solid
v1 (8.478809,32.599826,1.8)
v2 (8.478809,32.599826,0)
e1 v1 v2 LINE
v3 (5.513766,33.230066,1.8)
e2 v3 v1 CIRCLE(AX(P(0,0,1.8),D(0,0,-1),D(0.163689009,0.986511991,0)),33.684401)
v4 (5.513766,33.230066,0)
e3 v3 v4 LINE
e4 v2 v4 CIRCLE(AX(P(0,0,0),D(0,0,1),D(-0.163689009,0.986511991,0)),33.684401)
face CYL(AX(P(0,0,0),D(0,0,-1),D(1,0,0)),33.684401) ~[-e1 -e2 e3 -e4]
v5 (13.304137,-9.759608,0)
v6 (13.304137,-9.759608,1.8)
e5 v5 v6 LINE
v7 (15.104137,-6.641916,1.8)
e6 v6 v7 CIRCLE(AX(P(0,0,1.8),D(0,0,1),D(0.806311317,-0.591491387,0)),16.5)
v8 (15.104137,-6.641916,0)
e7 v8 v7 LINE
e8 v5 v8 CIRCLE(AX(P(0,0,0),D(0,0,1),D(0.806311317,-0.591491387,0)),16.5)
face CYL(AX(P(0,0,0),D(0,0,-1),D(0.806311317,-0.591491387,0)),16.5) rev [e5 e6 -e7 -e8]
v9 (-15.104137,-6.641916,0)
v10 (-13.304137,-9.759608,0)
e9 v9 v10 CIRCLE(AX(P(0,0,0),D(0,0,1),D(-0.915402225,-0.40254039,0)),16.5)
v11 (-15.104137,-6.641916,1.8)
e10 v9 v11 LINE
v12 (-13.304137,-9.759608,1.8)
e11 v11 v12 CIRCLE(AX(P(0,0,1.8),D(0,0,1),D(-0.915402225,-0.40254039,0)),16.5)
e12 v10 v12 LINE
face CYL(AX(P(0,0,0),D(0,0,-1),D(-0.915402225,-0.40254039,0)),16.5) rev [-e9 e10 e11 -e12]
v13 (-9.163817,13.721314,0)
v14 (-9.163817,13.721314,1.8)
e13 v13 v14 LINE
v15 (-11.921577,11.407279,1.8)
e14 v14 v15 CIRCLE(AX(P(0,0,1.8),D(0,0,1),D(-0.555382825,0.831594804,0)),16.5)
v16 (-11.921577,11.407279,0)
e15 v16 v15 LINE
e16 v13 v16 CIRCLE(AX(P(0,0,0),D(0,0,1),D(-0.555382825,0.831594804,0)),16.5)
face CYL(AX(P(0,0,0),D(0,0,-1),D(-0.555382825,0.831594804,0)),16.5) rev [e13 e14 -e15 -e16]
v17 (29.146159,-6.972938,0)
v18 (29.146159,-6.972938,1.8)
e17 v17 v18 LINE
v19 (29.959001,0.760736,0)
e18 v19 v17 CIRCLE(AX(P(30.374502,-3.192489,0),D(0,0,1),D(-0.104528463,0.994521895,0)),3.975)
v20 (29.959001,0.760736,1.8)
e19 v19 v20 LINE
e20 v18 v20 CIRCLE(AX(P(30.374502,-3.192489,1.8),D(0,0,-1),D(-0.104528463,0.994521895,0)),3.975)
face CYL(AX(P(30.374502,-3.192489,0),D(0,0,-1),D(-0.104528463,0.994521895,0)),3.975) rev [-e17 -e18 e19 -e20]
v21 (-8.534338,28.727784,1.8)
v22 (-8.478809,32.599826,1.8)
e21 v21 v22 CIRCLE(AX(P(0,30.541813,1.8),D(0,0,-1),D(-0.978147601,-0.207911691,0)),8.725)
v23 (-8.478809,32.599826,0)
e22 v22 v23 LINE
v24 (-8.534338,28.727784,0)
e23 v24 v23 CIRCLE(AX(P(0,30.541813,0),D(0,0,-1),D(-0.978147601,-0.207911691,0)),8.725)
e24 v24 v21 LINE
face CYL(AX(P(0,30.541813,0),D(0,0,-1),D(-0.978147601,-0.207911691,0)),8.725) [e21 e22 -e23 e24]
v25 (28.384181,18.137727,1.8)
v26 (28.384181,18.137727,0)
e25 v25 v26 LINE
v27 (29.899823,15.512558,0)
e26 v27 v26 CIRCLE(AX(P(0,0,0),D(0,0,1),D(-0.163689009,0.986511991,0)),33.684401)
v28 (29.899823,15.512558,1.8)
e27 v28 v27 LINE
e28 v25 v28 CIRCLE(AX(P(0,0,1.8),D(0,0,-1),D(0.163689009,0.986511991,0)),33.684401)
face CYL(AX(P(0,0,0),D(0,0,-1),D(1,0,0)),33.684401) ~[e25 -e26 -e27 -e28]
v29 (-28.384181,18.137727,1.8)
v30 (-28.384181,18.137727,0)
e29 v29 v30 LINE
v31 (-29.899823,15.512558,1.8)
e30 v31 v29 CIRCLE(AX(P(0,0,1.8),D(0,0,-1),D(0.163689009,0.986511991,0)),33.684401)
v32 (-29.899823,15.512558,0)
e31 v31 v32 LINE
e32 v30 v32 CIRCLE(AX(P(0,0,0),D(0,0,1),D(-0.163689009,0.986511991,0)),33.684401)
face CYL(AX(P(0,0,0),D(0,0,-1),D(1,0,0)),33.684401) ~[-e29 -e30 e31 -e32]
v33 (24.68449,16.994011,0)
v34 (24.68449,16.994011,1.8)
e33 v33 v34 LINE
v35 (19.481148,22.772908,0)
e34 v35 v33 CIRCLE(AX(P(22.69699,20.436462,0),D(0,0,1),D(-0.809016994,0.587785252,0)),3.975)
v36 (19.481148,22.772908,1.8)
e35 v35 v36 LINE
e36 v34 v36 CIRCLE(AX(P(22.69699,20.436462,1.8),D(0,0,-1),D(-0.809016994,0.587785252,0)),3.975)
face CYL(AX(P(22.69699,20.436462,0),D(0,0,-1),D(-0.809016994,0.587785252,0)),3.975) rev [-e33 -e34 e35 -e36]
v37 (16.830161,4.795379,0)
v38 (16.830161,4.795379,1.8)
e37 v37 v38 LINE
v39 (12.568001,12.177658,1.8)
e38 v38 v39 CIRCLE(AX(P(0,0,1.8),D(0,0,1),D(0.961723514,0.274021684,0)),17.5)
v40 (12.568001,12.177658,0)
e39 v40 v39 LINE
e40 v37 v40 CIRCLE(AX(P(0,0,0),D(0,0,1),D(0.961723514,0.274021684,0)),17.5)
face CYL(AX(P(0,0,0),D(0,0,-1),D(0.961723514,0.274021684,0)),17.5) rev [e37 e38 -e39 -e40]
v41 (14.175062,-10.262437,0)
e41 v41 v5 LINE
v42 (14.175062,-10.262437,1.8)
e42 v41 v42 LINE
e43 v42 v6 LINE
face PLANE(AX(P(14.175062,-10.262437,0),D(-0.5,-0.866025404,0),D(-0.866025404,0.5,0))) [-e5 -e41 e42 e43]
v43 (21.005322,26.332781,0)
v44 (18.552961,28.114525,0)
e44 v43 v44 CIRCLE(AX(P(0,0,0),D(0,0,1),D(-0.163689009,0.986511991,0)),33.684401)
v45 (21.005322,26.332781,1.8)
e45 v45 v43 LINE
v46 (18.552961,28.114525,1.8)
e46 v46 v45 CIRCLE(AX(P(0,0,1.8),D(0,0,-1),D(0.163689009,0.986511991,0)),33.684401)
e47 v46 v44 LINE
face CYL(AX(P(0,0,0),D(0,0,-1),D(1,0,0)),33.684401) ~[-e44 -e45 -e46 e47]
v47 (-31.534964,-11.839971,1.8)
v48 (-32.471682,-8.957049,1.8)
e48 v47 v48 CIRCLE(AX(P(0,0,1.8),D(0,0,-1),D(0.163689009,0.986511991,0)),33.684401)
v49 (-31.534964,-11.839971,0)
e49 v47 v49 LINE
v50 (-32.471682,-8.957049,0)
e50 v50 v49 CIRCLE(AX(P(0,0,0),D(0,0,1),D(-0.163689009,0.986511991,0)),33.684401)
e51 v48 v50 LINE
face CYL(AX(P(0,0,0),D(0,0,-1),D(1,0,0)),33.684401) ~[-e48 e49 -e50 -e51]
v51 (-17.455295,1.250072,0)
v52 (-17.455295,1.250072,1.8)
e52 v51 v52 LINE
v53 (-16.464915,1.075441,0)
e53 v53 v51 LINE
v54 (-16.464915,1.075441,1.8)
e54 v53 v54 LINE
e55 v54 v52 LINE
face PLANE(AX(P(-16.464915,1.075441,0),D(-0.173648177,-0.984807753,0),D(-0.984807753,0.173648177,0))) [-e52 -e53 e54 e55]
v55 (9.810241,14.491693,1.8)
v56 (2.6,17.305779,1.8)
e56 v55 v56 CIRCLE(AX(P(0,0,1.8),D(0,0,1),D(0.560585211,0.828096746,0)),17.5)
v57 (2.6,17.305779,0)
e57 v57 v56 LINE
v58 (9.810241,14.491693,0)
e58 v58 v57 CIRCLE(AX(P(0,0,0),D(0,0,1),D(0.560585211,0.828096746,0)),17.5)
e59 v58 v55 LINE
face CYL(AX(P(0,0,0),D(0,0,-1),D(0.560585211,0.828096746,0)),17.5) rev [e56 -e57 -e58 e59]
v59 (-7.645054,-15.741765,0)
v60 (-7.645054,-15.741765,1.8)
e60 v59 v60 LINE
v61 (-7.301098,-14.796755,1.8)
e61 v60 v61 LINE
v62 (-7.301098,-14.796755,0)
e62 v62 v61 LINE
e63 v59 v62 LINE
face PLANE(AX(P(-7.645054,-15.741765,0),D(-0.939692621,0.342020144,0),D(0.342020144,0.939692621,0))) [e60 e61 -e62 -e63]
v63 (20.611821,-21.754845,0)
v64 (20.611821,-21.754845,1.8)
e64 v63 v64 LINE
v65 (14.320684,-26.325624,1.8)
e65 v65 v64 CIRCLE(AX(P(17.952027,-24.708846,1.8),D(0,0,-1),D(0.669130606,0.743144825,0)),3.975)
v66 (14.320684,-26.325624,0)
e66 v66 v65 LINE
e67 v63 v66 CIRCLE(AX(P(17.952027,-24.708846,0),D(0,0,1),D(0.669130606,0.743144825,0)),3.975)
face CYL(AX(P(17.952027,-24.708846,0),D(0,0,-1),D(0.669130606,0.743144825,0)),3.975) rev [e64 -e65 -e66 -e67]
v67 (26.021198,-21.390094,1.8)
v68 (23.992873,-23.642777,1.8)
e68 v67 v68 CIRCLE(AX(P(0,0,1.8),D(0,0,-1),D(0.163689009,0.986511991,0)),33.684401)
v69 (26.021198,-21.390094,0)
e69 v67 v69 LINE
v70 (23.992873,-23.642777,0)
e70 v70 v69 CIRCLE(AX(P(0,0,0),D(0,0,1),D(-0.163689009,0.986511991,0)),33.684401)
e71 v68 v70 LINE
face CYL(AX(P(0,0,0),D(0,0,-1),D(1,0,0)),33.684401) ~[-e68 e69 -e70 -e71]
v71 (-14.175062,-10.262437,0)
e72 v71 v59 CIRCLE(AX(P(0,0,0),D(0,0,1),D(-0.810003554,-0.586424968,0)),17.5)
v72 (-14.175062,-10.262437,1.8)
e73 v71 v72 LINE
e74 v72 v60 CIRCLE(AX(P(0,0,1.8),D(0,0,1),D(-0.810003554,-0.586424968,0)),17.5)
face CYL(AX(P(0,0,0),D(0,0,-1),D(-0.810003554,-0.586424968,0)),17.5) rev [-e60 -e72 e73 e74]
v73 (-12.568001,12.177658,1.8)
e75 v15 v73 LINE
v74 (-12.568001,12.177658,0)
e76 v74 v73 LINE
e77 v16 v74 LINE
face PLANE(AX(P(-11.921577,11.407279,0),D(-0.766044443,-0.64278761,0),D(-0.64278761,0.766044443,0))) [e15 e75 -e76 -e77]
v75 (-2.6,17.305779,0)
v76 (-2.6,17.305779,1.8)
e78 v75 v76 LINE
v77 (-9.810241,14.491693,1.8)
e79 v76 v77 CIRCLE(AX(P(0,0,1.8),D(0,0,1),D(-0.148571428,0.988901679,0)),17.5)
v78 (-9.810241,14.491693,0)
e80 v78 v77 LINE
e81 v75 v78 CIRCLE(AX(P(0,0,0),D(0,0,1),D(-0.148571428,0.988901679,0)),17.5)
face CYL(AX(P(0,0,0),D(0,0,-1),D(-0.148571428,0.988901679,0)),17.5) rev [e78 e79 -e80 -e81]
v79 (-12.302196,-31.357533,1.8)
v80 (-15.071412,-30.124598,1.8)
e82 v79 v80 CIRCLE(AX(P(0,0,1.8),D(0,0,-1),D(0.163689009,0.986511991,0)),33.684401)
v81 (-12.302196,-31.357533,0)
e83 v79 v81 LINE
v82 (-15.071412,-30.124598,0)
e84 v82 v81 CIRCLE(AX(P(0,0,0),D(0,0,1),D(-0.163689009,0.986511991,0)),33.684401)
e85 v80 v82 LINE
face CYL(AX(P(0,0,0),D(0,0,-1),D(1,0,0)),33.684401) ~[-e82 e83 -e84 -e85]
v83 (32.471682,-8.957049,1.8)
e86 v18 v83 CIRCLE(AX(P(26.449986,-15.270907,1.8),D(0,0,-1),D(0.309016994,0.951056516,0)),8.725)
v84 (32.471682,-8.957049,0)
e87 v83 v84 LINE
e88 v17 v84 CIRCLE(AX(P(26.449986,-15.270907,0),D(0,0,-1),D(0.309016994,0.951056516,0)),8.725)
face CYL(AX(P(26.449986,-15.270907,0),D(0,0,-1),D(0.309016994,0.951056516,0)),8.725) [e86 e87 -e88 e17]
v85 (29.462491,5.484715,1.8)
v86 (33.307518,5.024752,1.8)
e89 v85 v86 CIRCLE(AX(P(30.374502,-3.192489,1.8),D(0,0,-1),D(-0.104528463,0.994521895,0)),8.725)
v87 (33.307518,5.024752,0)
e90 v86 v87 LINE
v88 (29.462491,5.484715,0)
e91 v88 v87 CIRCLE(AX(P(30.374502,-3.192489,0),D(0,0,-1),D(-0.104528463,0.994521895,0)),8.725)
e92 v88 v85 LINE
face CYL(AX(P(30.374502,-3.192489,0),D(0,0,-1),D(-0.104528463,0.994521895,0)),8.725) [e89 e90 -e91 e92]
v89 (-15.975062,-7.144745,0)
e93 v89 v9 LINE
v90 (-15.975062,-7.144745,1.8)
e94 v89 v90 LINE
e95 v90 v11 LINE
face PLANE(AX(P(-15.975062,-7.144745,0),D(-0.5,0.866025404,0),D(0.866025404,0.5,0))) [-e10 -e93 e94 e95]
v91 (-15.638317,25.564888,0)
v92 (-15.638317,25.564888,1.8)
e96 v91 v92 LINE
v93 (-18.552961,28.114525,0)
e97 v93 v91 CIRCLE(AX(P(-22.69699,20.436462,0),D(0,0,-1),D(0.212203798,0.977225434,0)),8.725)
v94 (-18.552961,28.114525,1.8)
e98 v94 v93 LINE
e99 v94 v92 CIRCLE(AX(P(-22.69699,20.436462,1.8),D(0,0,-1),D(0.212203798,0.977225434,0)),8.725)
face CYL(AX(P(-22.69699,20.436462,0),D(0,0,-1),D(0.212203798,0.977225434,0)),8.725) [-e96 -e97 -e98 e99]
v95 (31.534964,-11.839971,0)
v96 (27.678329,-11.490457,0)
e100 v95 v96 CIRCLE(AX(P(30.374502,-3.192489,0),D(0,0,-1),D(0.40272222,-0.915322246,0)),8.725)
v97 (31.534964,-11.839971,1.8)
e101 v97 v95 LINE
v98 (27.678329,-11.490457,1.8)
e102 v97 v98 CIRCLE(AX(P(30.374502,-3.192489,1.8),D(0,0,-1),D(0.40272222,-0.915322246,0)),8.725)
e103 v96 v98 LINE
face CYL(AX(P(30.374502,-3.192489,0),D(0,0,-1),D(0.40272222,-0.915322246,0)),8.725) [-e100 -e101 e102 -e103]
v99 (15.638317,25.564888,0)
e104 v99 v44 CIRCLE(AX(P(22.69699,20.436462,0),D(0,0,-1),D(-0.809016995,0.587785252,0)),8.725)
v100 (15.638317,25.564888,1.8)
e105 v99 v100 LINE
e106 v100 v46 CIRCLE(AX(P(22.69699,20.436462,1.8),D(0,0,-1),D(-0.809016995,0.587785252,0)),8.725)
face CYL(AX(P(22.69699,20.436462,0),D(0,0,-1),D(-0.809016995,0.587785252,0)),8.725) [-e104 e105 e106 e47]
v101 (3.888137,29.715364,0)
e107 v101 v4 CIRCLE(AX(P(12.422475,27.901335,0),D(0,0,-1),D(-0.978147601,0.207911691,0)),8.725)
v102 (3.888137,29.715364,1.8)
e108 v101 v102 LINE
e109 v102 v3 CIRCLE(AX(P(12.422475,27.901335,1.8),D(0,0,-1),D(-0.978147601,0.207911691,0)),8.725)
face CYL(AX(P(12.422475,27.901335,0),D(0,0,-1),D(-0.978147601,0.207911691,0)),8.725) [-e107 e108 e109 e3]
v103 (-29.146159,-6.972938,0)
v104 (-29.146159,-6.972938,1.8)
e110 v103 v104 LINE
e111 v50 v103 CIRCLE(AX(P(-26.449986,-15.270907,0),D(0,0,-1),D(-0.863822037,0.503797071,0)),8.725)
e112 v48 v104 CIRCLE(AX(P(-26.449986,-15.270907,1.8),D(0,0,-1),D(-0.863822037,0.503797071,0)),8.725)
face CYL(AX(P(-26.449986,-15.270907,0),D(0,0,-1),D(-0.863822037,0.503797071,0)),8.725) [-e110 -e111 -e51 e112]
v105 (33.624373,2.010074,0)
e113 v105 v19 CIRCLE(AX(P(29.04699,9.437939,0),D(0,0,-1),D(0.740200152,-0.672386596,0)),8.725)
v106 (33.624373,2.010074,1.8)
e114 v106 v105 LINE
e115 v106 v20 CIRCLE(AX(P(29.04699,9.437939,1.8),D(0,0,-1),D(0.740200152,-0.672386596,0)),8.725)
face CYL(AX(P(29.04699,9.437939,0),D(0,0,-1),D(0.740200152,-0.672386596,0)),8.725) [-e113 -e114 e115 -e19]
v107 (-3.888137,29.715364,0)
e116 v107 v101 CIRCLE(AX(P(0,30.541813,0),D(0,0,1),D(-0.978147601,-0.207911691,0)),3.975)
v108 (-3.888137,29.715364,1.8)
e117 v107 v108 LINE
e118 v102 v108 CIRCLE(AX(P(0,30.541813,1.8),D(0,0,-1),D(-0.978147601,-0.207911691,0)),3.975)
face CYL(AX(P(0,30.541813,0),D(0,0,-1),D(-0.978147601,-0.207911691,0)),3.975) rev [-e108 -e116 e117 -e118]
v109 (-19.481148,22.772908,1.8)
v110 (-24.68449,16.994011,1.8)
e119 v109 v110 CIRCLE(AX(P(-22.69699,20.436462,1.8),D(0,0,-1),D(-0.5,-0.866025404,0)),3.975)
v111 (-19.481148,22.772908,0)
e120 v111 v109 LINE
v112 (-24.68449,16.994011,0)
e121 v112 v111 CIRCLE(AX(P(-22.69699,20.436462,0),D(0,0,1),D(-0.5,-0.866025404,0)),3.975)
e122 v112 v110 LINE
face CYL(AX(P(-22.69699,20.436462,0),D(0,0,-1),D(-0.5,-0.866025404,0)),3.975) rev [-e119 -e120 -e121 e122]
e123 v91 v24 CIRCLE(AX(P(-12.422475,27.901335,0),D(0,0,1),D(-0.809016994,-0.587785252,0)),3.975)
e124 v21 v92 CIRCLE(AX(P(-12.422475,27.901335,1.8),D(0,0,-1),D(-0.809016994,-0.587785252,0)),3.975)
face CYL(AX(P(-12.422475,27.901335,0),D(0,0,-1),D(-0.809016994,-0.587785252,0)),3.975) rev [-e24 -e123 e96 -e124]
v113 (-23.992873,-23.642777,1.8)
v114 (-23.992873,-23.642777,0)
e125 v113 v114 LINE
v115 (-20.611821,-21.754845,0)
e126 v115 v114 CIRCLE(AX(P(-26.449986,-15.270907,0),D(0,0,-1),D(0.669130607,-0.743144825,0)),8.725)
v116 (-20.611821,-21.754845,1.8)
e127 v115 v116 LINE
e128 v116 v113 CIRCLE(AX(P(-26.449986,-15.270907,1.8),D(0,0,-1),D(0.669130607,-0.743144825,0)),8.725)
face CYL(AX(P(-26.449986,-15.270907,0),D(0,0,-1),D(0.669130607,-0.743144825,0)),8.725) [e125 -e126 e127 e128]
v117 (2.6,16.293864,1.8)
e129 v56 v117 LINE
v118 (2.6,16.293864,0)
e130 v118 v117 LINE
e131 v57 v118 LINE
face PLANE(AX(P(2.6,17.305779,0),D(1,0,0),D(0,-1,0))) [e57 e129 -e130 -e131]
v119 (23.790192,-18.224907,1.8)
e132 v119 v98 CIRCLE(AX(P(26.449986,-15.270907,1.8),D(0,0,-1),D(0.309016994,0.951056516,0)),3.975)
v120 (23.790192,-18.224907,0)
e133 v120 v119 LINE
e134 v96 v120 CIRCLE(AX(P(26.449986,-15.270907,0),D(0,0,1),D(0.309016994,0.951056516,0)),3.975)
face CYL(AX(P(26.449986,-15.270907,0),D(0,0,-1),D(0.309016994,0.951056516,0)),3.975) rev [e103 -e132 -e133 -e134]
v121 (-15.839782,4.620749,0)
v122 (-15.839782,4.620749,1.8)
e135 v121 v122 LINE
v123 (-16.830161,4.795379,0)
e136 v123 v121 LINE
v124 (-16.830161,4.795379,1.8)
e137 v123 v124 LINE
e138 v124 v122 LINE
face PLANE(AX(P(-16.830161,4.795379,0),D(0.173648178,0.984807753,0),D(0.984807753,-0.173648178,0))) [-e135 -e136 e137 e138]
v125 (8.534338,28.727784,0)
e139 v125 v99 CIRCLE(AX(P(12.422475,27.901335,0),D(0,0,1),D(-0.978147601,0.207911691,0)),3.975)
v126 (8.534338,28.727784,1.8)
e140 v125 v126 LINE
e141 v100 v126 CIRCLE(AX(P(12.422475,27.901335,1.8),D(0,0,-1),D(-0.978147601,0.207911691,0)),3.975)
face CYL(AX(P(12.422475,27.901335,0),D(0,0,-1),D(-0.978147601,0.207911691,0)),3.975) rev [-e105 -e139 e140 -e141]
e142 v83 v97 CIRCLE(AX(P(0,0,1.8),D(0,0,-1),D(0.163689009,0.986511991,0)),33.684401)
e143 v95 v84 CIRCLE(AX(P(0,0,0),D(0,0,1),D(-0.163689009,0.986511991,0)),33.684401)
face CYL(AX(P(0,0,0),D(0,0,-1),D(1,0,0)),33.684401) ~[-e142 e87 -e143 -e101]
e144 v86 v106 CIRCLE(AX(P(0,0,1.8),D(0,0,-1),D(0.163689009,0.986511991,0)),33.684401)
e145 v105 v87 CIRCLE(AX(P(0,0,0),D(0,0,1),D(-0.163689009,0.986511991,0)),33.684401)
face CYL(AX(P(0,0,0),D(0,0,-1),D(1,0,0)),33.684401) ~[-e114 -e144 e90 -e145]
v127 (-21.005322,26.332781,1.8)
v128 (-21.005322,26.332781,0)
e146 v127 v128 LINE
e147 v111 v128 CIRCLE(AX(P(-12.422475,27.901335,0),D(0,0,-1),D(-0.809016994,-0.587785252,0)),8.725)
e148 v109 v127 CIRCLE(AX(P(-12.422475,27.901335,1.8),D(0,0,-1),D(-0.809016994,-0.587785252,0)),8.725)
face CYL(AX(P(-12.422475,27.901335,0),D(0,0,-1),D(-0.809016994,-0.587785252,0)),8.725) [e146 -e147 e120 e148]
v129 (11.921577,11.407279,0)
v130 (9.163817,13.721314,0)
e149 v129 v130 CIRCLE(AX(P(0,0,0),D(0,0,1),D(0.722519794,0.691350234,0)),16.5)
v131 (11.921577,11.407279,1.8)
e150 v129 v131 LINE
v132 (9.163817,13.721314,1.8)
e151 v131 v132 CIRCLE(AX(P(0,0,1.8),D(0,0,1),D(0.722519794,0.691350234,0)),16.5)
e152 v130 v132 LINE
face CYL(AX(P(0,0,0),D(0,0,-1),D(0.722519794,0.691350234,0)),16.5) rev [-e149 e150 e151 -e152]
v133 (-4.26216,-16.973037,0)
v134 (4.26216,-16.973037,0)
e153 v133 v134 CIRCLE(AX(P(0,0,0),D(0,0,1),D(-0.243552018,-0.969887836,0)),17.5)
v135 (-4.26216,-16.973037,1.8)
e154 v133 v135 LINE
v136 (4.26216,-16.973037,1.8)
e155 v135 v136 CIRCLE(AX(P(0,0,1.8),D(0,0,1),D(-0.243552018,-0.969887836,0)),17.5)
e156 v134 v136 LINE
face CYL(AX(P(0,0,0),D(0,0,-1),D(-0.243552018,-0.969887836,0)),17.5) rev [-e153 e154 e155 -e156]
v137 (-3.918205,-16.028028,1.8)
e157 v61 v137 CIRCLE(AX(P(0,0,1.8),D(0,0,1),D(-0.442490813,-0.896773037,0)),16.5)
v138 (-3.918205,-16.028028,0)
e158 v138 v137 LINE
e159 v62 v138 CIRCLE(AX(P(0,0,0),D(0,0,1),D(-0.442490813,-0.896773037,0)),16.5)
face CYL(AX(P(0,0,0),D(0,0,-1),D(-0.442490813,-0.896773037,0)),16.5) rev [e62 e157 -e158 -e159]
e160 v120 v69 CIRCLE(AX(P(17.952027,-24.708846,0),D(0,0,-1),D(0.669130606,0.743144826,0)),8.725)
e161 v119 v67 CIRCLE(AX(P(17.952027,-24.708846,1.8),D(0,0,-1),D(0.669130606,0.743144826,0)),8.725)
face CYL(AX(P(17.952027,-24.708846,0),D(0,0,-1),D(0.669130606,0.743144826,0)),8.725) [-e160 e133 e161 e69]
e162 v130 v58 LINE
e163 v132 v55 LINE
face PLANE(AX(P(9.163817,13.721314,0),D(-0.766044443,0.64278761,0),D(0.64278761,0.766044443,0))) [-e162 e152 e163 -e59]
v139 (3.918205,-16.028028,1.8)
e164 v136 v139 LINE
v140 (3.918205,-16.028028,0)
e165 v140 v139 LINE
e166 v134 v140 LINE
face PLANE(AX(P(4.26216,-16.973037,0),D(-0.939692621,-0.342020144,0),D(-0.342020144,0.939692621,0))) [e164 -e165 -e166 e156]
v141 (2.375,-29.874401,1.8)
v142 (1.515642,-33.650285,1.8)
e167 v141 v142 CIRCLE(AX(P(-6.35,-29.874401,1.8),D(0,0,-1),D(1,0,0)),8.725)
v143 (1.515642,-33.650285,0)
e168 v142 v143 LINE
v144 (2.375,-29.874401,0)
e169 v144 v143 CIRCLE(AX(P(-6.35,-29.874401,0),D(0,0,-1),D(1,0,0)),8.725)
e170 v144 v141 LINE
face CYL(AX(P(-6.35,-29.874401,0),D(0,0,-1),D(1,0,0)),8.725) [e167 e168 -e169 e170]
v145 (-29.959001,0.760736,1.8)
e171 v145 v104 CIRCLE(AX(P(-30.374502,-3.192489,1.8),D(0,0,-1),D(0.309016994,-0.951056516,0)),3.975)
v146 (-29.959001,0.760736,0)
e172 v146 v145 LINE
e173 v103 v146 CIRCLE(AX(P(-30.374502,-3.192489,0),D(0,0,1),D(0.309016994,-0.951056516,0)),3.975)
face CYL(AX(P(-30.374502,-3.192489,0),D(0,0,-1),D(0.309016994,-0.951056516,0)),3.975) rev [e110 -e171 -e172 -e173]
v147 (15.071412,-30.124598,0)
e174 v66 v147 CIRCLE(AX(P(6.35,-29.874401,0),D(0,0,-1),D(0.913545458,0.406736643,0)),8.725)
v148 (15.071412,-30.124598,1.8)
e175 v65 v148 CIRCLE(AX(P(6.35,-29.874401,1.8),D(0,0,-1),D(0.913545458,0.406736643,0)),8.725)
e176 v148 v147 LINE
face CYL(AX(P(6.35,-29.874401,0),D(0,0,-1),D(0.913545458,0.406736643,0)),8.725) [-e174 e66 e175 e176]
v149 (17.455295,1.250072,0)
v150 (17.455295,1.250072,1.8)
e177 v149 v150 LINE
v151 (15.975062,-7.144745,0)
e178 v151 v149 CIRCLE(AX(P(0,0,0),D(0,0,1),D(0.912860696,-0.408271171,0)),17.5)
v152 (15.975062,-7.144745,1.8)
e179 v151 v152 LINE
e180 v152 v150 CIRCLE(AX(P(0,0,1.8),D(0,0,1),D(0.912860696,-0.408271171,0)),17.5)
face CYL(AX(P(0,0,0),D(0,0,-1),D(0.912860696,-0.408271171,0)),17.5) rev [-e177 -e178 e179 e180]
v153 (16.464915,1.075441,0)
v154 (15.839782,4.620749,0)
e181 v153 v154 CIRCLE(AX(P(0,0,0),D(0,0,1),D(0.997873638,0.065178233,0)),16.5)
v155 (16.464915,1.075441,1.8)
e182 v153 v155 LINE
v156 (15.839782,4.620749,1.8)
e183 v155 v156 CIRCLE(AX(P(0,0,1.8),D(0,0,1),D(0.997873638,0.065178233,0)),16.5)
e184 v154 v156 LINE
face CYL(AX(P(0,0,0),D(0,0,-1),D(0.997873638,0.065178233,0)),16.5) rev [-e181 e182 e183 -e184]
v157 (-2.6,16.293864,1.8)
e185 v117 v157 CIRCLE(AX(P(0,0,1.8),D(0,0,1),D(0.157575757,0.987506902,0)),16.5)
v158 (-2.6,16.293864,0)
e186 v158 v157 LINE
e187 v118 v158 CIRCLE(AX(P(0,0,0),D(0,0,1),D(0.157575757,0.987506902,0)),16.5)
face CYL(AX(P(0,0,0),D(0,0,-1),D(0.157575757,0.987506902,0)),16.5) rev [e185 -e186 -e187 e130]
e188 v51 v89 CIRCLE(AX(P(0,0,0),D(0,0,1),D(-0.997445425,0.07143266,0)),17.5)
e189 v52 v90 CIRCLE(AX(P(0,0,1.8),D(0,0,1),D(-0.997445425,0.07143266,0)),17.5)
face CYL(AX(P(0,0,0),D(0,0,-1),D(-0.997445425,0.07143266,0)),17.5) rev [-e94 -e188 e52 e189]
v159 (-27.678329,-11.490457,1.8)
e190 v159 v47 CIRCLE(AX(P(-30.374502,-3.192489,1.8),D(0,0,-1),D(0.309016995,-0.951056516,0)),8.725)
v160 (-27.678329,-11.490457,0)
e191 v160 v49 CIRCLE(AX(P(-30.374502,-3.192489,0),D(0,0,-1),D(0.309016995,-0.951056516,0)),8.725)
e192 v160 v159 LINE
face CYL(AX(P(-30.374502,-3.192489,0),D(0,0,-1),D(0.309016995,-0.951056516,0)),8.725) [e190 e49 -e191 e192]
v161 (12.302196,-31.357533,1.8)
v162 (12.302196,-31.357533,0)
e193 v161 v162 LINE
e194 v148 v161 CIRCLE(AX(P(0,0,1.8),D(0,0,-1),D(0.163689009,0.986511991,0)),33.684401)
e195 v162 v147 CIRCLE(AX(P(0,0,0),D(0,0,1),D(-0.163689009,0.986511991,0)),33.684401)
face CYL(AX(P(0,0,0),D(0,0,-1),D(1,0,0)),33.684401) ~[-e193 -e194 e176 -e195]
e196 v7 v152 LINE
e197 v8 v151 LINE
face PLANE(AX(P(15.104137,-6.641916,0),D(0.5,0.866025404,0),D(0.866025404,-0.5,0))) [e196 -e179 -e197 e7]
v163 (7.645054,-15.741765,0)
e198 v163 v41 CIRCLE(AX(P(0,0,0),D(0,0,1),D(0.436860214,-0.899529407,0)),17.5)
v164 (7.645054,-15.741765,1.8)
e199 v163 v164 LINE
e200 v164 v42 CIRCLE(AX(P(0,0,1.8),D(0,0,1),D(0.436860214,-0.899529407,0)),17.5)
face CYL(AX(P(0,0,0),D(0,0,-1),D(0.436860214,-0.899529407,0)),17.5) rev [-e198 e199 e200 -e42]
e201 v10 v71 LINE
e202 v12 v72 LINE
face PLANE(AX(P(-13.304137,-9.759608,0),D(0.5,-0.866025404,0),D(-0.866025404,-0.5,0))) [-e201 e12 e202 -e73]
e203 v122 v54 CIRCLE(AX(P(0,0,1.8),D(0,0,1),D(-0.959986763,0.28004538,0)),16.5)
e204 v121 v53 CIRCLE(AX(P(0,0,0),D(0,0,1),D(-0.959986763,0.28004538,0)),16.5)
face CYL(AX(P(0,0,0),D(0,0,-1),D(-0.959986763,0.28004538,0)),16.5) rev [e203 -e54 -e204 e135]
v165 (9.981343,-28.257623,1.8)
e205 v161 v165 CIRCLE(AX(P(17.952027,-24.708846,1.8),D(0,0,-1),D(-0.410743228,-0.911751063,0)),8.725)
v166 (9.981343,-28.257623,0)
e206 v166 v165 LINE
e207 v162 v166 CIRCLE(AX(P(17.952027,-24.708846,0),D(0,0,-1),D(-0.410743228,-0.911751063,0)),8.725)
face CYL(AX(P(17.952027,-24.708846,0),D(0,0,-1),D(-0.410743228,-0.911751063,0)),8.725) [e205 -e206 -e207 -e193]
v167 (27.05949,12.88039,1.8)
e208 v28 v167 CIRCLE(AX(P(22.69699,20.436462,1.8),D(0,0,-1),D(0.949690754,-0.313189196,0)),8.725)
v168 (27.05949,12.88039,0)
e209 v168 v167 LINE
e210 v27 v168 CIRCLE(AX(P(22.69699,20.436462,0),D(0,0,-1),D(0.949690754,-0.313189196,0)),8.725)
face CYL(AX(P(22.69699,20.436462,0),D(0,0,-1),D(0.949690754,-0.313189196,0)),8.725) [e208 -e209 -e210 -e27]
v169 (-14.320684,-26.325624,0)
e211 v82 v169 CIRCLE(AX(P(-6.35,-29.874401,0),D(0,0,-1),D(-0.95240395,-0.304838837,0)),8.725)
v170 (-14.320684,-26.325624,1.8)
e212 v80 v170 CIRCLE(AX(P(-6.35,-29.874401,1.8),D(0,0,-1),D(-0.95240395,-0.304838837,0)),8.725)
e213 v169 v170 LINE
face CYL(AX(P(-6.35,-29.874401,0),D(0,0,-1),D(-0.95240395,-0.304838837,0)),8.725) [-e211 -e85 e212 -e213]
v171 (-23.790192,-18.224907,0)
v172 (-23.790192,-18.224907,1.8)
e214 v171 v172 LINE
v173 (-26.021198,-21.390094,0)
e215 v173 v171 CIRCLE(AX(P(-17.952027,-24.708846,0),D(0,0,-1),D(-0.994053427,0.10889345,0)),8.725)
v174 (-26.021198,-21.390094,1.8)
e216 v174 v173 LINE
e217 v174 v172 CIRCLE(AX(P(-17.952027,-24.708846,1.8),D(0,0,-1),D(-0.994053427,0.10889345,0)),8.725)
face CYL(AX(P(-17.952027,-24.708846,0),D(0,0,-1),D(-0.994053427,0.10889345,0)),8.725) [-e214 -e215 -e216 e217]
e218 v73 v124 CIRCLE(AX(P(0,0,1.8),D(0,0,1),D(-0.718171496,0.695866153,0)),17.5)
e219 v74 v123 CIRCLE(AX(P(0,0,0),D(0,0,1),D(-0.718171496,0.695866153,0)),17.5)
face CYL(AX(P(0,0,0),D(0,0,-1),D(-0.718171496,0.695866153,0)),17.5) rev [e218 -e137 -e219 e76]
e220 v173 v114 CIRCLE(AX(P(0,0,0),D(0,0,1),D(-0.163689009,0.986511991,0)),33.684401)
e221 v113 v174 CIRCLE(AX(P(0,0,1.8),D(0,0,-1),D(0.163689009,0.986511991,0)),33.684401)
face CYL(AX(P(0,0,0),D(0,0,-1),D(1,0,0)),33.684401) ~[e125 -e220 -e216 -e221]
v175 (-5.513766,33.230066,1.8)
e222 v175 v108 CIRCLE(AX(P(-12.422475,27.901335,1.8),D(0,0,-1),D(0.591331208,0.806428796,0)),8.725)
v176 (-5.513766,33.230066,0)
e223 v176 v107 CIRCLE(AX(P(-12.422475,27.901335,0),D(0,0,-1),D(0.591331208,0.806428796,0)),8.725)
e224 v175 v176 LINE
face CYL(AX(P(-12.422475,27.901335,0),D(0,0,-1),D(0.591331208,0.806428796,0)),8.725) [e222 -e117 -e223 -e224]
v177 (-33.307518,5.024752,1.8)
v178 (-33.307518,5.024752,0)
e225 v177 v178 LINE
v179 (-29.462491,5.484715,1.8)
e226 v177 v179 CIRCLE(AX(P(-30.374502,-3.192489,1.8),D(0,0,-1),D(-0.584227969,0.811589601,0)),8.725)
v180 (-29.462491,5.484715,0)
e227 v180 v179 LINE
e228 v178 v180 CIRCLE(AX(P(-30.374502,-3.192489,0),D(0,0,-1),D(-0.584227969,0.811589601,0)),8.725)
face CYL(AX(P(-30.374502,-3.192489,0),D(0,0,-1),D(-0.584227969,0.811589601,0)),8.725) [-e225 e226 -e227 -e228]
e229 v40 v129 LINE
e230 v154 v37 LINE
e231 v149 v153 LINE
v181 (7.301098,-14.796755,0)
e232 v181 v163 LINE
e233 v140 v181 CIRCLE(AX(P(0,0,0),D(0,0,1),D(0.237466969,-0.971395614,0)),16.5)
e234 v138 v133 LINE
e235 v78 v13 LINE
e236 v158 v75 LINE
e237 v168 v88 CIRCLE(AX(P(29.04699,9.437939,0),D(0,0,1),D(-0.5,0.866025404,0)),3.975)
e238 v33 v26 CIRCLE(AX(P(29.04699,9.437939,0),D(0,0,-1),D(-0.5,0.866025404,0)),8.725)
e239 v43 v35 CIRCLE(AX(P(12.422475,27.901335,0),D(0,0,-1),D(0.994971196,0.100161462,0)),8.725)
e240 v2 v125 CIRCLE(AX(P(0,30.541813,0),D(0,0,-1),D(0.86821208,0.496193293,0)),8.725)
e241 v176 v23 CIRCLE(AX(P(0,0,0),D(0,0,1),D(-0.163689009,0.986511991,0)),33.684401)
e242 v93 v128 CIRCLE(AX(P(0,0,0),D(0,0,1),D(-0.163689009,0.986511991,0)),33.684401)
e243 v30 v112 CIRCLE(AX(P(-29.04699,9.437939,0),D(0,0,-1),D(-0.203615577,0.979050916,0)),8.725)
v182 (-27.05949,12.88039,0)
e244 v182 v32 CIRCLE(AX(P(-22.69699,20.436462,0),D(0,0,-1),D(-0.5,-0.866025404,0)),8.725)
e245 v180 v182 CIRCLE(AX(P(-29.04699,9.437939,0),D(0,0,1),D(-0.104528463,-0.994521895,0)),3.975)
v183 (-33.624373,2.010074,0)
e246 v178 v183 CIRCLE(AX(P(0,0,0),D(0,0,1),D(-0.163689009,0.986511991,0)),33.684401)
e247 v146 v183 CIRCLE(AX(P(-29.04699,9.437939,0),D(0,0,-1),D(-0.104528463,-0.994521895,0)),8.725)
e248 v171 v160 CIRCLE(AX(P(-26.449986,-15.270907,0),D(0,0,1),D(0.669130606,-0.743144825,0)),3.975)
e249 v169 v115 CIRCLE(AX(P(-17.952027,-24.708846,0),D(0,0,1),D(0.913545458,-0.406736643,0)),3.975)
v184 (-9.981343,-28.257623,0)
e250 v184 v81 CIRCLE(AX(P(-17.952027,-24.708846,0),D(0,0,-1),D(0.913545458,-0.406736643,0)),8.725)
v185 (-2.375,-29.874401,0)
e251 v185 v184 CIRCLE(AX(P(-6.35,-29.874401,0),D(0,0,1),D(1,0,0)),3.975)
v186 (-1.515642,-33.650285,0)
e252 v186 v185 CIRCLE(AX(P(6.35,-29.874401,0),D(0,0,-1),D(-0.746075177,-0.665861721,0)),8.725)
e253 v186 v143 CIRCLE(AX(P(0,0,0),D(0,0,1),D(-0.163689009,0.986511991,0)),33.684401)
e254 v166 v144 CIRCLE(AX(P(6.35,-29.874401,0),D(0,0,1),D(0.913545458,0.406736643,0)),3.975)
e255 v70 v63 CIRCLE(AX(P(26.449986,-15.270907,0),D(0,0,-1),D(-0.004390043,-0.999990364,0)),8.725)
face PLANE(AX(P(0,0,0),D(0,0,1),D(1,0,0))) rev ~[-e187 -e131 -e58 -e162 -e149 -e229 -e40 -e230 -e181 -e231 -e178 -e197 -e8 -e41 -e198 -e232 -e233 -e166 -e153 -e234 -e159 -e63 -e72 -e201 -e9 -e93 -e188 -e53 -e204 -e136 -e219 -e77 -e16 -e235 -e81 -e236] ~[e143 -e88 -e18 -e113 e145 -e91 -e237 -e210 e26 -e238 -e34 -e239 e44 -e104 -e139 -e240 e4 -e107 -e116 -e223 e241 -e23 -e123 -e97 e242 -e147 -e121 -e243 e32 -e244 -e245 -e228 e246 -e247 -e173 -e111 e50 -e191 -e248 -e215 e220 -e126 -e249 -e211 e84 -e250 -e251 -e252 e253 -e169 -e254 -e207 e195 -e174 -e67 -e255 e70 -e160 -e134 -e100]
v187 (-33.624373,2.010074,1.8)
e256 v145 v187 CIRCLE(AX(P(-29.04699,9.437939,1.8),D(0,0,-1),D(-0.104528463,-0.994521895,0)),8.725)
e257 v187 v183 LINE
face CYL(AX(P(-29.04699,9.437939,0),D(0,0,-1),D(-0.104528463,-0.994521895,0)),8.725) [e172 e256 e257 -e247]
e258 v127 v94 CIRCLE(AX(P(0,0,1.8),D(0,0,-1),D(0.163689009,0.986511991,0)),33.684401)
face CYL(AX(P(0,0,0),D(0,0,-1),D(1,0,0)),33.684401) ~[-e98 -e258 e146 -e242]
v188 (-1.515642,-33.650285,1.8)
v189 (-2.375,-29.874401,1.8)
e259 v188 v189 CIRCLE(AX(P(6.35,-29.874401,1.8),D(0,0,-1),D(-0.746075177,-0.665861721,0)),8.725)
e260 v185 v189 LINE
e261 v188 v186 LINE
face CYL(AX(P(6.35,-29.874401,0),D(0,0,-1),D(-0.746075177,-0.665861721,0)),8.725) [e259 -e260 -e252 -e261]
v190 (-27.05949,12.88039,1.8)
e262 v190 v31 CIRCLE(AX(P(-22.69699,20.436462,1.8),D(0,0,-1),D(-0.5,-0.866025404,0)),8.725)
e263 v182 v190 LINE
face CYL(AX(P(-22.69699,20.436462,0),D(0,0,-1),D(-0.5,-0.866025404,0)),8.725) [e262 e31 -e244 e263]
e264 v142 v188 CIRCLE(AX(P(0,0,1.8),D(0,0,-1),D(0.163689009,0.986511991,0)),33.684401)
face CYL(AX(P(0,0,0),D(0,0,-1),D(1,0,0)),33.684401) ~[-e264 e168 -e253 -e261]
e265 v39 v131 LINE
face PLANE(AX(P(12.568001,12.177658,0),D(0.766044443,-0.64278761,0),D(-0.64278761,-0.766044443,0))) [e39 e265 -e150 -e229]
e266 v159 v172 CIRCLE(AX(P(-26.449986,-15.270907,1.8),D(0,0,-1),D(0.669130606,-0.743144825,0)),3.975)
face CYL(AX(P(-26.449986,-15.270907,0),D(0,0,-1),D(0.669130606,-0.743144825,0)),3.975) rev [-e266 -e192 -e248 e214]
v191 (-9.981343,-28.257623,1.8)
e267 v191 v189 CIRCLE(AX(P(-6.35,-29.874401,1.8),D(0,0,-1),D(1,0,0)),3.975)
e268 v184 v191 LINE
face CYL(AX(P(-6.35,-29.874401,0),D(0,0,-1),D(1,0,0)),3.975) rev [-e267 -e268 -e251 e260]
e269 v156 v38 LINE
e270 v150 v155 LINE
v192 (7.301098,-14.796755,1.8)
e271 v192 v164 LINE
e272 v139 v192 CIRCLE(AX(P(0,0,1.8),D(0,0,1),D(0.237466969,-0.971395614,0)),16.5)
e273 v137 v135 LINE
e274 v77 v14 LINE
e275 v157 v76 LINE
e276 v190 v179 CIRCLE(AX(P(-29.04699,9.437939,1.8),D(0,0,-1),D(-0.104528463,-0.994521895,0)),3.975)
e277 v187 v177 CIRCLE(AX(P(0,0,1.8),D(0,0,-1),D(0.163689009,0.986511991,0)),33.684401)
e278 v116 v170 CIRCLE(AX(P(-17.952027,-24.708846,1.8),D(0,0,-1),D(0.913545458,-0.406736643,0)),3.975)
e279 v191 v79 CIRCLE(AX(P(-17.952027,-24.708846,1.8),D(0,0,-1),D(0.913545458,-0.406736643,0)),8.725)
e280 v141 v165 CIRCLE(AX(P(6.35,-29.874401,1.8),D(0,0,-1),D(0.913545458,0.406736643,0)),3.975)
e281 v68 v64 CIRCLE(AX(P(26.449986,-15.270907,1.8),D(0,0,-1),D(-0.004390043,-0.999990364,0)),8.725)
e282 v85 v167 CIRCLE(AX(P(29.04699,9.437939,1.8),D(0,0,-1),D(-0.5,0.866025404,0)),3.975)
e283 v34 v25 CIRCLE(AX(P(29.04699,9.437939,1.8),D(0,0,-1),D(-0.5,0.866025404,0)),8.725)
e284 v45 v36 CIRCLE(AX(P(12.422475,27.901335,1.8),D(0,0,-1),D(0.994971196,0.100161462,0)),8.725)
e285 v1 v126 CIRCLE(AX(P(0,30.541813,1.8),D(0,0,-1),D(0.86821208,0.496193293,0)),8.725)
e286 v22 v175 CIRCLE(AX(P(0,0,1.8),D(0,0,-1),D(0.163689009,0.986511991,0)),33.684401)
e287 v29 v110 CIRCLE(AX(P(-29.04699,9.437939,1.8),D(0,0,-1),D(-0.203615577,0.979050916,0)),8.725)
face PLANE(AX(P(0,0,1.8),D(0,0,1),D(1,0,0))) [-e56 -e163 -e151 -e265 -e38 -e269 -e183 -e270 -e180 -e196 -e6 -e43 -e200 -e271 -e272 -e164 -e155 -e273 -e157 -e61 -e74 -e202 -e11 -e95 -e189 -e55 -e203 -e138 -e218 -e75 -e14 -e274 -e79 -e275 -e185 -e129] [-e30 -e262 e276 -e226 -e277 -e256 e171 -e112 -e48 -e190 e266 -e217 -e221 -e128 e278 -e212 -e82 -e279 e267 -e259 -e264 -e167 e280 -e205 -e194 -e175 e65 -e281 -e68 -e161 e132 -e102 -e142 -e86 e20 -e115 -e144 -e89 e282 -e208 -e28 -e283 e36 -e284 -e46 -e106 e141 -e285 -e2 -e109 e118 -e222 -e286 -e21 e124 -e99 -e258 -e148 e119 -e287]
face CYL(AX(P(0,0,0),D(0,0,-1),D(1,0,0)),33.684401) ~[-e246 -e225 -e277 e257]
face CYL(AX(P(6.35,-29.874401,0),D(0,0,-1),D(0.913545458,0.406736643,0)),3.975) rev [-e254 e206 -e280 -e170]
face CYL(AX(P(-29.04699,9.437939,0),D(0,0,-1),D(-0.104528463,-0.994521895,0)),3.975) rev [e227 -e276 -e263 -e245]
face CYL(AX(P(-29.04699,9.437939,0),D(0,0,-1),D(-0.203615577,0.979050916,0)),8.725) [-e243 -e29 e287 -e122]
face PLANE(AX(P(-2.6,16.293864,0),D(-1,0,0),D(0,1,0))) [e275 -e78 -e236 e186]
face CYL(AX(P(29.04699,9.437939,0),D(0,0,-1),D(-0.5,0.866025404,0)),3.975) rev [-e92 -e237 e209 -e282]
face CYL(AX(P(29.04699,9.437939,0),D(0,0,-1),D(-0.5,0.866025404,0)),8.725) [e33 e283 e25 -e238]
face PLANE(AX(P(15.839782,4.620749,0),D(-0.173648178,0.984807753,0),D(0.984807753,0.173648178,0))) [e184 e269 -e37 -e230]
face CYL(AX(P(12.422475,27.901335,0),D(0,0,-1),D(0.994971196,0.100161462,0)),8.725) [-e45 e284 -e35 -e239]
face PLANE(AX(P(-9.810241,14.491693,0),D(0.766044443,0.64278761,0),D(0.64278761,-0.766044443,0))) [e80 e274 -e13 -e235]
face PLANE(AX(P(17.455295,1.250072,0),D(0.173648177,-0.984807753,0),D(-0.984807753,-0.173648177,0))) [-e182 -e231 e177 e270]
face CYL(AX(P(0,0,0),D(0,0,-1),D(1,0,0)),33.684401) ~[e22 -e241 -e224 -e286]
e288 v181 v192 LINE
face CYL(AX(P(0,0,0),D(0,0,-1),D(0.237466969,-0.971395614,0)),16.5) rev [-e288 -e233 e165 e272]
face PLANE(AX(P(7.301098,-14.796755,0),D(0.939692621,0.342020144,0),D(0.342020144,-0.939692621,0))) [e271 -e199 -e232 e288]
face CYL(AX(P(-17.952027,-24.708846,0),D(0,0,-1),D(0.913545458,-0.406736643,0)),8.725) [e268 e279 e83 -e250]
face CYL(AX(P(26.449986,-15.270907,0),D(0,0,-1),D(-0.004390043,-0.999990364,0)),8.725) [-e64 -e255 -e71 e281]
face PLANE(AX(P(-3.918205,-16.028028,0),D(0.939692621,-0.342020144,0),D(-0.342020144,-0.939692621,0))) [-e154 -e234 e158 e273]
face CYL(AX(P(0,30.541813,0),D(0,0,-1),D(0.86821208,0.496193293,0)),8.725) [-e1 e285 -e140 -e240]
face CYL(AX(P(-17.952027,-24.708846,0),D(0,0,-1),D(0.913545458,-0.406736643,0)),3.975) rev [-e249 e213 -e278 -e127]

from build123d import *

# Parameters (mm, degrees)
SK_DISCO_R           = 33.684401195
DISCO_DEPTH          = 1.8
HUECO_DIENTE_DEPTH   = 48.670932105
MATRIZ_DIENTES_COUNT = 15


with BuildPart() as part:
    # Sk_Disco → Disco (new body)
    with BuildSketch(Plane.XY):
        Circle(SK_DISCO_R)
        with BuildLine():
            Line((2.6, 17.305779381), (2.6, 16.293863876))
            ThreePointArc((2.6, 16.293863876), (0, 16.5), (-2.6, 16.293863876))
            Line((-2.6, 16.293863876), (-2.6, 17.305779381))
            ThreePointArc((-2.6, 17.305779381), (-6.362648192, 16.302352836), (-9.810241185, 14.491693065))
            Line((-9.810241185, 14.491693065), (-9.163816615, 13.721314261))
            ThreePointArc((-9.163816615, 13.721314261), (-10.60599556, 12.639733311), (-11.92157661, 11.407278866))
            Line((-11.92157661, 11.407278866), (-12.56800118, 12.17765767))
            ThreePointArc((-12.56800118, 12.17765767), (-15.155444566, 8.75), (-16.830161491, 4.795379462))
            Line((-16.830161491, 4.795379462), (-15.839781591, 4.620748764))
            ThreePointArc((-15.839781591, 4.620748764), (-16.249327925, 2.865194932), (-16.464915031, 1.075440854))
            Line((-16.464915031, 1.075440854), (-17.455294931, 1.250071551))
            ThreePointArc((-17.455294931, 1.250071551), (-17.234135678, -3.038843109), (-15.975062189, -7.144745486))
            Line((-15.975062189, -7.144745486), (-15.104136721, -6.641916433))
            ThreePointArc((-15.104136721, -6.641916433), (-14.289419162, -8.25), (-13.304136721, -9.759607887))
            Line((-13.304136721, -9.759607887), (-14.175062189, -10.26243694))
            ThreePointArc((-14.175062189, -10.26243694), (-11.24878317, -13.405777755), (-7.645053746, -15.741764616))
            Line((-7.645053746, -15.741764616), (-7.301098416, -14.796755115))
            ThreePointArc((-7.301098416, -14.796755115), (-5.643332365, -15.504928243), (-3.918204981, -16.028027631))
            Line((-3.918204981, -16.028027631), (-4.262160311, -16.973037132))
            ThreePointArc((-4.262160311, -16.973037132), (0, -17.5), (4.262160311, -16.973037132))
            Line((4.262160311, -16.973037132), (3.918204981, -16.028027631))
            ThreePointArc((3.918204981, -16.028027631), (5.643332365, -15.504928243), (7.301098416, -14.796755115))
            Line((7.301098416, -14.796755115), (7.645053746, -15.741764616))
            ThreePointArc((7.645053746, -15.741764616), (11.24878317, -13.405777755), (14.175062189, -10.26243694))
            Line((14.175062189, -10.26243694), (13.304136721, -9.759607887))
            ThreePointArc((13.304136721, -9.759607887), (14.289419162, -8.25), (15.104136721, -6.641916433))
            Line((15.104136721, -6.641916433), (15.975062189, -7.144745486))
            ThreePointArc((15.975062189, -7.144745486), (17.234135678, -3.038843109), (17.455294931, 1.250071551))
            Line((17.455294931, 1.250071551), (16.464915031, 1.075440854))
            ThreePointArc((16.464915031, 1.075440854), (16.249327925, 2.865194932), (15.839781591, 4.620748764))
            Line((15.839781591, 4.620748764), (16.830161491, 4.795379462))
            ThreePointArc((16.830161491, 4.795379462), (15.155444566, 8.75), (12.56800118, 12.17765767))
            Line((12.56800118, 12.17765767), (11.92157661, 11.407278866))
            ThreePointArc((11.92157661, 11.407278866), (10.60599556, 12.639733311), (9.163816615, 13.721314261))
            Line((9.163816615, 13.721314261), (9.810241185, 14.491693065))
            ThreePointArc((9.810241185, 14.491693065), (6.362648192, 16.302352836), (2.6, 17.305779381))
        make_face(mode=Mode.SUBTRACT)
    extrude(amount=DISCO_DEPTH)

    # Sk_Hueco → Hueco_diente (cut, through all)
    with BuildSketch(Plane.XY):
        with BuildLine():
            ThreePointArc((-3.888136713, 29.715364118), (0, 26.566813089), (3.888136713, 29.715364118))
            ThreePointArc((3.888136713, 29.715364118), (5.094660737, 32.637236856), (7.26310974, 34.937425858))
            ThreePointArc((7.26310974, 34.937425858), (0, 35.684401195), (-7.26310974, 34.937425858))
            ThreePointArc((-7.26310974, 34.937425858), (-5.094660737, 32.637236856), (-3.888136713, 29.715364118))
        make_face()
    hueco_diente = extrude(amount=HUECO_DIENTE_DEPTH, mode=Mode.SUBTRACT)

    # Matriz_dientes: Hueco_diente ×15 about axis
    matriz_dientes_axis = Axis((0, 0, -0.09), (0, 0, 1))
    for i in range(1, MATRIZ_DIENTES_COUNT):
        add(hueco_diente.rotate(matriz_dientes_axis, i * 360 / MATRIZ_DIENTES_COUNT), mode=Mode.SUBTRACT)


solid = part.part
